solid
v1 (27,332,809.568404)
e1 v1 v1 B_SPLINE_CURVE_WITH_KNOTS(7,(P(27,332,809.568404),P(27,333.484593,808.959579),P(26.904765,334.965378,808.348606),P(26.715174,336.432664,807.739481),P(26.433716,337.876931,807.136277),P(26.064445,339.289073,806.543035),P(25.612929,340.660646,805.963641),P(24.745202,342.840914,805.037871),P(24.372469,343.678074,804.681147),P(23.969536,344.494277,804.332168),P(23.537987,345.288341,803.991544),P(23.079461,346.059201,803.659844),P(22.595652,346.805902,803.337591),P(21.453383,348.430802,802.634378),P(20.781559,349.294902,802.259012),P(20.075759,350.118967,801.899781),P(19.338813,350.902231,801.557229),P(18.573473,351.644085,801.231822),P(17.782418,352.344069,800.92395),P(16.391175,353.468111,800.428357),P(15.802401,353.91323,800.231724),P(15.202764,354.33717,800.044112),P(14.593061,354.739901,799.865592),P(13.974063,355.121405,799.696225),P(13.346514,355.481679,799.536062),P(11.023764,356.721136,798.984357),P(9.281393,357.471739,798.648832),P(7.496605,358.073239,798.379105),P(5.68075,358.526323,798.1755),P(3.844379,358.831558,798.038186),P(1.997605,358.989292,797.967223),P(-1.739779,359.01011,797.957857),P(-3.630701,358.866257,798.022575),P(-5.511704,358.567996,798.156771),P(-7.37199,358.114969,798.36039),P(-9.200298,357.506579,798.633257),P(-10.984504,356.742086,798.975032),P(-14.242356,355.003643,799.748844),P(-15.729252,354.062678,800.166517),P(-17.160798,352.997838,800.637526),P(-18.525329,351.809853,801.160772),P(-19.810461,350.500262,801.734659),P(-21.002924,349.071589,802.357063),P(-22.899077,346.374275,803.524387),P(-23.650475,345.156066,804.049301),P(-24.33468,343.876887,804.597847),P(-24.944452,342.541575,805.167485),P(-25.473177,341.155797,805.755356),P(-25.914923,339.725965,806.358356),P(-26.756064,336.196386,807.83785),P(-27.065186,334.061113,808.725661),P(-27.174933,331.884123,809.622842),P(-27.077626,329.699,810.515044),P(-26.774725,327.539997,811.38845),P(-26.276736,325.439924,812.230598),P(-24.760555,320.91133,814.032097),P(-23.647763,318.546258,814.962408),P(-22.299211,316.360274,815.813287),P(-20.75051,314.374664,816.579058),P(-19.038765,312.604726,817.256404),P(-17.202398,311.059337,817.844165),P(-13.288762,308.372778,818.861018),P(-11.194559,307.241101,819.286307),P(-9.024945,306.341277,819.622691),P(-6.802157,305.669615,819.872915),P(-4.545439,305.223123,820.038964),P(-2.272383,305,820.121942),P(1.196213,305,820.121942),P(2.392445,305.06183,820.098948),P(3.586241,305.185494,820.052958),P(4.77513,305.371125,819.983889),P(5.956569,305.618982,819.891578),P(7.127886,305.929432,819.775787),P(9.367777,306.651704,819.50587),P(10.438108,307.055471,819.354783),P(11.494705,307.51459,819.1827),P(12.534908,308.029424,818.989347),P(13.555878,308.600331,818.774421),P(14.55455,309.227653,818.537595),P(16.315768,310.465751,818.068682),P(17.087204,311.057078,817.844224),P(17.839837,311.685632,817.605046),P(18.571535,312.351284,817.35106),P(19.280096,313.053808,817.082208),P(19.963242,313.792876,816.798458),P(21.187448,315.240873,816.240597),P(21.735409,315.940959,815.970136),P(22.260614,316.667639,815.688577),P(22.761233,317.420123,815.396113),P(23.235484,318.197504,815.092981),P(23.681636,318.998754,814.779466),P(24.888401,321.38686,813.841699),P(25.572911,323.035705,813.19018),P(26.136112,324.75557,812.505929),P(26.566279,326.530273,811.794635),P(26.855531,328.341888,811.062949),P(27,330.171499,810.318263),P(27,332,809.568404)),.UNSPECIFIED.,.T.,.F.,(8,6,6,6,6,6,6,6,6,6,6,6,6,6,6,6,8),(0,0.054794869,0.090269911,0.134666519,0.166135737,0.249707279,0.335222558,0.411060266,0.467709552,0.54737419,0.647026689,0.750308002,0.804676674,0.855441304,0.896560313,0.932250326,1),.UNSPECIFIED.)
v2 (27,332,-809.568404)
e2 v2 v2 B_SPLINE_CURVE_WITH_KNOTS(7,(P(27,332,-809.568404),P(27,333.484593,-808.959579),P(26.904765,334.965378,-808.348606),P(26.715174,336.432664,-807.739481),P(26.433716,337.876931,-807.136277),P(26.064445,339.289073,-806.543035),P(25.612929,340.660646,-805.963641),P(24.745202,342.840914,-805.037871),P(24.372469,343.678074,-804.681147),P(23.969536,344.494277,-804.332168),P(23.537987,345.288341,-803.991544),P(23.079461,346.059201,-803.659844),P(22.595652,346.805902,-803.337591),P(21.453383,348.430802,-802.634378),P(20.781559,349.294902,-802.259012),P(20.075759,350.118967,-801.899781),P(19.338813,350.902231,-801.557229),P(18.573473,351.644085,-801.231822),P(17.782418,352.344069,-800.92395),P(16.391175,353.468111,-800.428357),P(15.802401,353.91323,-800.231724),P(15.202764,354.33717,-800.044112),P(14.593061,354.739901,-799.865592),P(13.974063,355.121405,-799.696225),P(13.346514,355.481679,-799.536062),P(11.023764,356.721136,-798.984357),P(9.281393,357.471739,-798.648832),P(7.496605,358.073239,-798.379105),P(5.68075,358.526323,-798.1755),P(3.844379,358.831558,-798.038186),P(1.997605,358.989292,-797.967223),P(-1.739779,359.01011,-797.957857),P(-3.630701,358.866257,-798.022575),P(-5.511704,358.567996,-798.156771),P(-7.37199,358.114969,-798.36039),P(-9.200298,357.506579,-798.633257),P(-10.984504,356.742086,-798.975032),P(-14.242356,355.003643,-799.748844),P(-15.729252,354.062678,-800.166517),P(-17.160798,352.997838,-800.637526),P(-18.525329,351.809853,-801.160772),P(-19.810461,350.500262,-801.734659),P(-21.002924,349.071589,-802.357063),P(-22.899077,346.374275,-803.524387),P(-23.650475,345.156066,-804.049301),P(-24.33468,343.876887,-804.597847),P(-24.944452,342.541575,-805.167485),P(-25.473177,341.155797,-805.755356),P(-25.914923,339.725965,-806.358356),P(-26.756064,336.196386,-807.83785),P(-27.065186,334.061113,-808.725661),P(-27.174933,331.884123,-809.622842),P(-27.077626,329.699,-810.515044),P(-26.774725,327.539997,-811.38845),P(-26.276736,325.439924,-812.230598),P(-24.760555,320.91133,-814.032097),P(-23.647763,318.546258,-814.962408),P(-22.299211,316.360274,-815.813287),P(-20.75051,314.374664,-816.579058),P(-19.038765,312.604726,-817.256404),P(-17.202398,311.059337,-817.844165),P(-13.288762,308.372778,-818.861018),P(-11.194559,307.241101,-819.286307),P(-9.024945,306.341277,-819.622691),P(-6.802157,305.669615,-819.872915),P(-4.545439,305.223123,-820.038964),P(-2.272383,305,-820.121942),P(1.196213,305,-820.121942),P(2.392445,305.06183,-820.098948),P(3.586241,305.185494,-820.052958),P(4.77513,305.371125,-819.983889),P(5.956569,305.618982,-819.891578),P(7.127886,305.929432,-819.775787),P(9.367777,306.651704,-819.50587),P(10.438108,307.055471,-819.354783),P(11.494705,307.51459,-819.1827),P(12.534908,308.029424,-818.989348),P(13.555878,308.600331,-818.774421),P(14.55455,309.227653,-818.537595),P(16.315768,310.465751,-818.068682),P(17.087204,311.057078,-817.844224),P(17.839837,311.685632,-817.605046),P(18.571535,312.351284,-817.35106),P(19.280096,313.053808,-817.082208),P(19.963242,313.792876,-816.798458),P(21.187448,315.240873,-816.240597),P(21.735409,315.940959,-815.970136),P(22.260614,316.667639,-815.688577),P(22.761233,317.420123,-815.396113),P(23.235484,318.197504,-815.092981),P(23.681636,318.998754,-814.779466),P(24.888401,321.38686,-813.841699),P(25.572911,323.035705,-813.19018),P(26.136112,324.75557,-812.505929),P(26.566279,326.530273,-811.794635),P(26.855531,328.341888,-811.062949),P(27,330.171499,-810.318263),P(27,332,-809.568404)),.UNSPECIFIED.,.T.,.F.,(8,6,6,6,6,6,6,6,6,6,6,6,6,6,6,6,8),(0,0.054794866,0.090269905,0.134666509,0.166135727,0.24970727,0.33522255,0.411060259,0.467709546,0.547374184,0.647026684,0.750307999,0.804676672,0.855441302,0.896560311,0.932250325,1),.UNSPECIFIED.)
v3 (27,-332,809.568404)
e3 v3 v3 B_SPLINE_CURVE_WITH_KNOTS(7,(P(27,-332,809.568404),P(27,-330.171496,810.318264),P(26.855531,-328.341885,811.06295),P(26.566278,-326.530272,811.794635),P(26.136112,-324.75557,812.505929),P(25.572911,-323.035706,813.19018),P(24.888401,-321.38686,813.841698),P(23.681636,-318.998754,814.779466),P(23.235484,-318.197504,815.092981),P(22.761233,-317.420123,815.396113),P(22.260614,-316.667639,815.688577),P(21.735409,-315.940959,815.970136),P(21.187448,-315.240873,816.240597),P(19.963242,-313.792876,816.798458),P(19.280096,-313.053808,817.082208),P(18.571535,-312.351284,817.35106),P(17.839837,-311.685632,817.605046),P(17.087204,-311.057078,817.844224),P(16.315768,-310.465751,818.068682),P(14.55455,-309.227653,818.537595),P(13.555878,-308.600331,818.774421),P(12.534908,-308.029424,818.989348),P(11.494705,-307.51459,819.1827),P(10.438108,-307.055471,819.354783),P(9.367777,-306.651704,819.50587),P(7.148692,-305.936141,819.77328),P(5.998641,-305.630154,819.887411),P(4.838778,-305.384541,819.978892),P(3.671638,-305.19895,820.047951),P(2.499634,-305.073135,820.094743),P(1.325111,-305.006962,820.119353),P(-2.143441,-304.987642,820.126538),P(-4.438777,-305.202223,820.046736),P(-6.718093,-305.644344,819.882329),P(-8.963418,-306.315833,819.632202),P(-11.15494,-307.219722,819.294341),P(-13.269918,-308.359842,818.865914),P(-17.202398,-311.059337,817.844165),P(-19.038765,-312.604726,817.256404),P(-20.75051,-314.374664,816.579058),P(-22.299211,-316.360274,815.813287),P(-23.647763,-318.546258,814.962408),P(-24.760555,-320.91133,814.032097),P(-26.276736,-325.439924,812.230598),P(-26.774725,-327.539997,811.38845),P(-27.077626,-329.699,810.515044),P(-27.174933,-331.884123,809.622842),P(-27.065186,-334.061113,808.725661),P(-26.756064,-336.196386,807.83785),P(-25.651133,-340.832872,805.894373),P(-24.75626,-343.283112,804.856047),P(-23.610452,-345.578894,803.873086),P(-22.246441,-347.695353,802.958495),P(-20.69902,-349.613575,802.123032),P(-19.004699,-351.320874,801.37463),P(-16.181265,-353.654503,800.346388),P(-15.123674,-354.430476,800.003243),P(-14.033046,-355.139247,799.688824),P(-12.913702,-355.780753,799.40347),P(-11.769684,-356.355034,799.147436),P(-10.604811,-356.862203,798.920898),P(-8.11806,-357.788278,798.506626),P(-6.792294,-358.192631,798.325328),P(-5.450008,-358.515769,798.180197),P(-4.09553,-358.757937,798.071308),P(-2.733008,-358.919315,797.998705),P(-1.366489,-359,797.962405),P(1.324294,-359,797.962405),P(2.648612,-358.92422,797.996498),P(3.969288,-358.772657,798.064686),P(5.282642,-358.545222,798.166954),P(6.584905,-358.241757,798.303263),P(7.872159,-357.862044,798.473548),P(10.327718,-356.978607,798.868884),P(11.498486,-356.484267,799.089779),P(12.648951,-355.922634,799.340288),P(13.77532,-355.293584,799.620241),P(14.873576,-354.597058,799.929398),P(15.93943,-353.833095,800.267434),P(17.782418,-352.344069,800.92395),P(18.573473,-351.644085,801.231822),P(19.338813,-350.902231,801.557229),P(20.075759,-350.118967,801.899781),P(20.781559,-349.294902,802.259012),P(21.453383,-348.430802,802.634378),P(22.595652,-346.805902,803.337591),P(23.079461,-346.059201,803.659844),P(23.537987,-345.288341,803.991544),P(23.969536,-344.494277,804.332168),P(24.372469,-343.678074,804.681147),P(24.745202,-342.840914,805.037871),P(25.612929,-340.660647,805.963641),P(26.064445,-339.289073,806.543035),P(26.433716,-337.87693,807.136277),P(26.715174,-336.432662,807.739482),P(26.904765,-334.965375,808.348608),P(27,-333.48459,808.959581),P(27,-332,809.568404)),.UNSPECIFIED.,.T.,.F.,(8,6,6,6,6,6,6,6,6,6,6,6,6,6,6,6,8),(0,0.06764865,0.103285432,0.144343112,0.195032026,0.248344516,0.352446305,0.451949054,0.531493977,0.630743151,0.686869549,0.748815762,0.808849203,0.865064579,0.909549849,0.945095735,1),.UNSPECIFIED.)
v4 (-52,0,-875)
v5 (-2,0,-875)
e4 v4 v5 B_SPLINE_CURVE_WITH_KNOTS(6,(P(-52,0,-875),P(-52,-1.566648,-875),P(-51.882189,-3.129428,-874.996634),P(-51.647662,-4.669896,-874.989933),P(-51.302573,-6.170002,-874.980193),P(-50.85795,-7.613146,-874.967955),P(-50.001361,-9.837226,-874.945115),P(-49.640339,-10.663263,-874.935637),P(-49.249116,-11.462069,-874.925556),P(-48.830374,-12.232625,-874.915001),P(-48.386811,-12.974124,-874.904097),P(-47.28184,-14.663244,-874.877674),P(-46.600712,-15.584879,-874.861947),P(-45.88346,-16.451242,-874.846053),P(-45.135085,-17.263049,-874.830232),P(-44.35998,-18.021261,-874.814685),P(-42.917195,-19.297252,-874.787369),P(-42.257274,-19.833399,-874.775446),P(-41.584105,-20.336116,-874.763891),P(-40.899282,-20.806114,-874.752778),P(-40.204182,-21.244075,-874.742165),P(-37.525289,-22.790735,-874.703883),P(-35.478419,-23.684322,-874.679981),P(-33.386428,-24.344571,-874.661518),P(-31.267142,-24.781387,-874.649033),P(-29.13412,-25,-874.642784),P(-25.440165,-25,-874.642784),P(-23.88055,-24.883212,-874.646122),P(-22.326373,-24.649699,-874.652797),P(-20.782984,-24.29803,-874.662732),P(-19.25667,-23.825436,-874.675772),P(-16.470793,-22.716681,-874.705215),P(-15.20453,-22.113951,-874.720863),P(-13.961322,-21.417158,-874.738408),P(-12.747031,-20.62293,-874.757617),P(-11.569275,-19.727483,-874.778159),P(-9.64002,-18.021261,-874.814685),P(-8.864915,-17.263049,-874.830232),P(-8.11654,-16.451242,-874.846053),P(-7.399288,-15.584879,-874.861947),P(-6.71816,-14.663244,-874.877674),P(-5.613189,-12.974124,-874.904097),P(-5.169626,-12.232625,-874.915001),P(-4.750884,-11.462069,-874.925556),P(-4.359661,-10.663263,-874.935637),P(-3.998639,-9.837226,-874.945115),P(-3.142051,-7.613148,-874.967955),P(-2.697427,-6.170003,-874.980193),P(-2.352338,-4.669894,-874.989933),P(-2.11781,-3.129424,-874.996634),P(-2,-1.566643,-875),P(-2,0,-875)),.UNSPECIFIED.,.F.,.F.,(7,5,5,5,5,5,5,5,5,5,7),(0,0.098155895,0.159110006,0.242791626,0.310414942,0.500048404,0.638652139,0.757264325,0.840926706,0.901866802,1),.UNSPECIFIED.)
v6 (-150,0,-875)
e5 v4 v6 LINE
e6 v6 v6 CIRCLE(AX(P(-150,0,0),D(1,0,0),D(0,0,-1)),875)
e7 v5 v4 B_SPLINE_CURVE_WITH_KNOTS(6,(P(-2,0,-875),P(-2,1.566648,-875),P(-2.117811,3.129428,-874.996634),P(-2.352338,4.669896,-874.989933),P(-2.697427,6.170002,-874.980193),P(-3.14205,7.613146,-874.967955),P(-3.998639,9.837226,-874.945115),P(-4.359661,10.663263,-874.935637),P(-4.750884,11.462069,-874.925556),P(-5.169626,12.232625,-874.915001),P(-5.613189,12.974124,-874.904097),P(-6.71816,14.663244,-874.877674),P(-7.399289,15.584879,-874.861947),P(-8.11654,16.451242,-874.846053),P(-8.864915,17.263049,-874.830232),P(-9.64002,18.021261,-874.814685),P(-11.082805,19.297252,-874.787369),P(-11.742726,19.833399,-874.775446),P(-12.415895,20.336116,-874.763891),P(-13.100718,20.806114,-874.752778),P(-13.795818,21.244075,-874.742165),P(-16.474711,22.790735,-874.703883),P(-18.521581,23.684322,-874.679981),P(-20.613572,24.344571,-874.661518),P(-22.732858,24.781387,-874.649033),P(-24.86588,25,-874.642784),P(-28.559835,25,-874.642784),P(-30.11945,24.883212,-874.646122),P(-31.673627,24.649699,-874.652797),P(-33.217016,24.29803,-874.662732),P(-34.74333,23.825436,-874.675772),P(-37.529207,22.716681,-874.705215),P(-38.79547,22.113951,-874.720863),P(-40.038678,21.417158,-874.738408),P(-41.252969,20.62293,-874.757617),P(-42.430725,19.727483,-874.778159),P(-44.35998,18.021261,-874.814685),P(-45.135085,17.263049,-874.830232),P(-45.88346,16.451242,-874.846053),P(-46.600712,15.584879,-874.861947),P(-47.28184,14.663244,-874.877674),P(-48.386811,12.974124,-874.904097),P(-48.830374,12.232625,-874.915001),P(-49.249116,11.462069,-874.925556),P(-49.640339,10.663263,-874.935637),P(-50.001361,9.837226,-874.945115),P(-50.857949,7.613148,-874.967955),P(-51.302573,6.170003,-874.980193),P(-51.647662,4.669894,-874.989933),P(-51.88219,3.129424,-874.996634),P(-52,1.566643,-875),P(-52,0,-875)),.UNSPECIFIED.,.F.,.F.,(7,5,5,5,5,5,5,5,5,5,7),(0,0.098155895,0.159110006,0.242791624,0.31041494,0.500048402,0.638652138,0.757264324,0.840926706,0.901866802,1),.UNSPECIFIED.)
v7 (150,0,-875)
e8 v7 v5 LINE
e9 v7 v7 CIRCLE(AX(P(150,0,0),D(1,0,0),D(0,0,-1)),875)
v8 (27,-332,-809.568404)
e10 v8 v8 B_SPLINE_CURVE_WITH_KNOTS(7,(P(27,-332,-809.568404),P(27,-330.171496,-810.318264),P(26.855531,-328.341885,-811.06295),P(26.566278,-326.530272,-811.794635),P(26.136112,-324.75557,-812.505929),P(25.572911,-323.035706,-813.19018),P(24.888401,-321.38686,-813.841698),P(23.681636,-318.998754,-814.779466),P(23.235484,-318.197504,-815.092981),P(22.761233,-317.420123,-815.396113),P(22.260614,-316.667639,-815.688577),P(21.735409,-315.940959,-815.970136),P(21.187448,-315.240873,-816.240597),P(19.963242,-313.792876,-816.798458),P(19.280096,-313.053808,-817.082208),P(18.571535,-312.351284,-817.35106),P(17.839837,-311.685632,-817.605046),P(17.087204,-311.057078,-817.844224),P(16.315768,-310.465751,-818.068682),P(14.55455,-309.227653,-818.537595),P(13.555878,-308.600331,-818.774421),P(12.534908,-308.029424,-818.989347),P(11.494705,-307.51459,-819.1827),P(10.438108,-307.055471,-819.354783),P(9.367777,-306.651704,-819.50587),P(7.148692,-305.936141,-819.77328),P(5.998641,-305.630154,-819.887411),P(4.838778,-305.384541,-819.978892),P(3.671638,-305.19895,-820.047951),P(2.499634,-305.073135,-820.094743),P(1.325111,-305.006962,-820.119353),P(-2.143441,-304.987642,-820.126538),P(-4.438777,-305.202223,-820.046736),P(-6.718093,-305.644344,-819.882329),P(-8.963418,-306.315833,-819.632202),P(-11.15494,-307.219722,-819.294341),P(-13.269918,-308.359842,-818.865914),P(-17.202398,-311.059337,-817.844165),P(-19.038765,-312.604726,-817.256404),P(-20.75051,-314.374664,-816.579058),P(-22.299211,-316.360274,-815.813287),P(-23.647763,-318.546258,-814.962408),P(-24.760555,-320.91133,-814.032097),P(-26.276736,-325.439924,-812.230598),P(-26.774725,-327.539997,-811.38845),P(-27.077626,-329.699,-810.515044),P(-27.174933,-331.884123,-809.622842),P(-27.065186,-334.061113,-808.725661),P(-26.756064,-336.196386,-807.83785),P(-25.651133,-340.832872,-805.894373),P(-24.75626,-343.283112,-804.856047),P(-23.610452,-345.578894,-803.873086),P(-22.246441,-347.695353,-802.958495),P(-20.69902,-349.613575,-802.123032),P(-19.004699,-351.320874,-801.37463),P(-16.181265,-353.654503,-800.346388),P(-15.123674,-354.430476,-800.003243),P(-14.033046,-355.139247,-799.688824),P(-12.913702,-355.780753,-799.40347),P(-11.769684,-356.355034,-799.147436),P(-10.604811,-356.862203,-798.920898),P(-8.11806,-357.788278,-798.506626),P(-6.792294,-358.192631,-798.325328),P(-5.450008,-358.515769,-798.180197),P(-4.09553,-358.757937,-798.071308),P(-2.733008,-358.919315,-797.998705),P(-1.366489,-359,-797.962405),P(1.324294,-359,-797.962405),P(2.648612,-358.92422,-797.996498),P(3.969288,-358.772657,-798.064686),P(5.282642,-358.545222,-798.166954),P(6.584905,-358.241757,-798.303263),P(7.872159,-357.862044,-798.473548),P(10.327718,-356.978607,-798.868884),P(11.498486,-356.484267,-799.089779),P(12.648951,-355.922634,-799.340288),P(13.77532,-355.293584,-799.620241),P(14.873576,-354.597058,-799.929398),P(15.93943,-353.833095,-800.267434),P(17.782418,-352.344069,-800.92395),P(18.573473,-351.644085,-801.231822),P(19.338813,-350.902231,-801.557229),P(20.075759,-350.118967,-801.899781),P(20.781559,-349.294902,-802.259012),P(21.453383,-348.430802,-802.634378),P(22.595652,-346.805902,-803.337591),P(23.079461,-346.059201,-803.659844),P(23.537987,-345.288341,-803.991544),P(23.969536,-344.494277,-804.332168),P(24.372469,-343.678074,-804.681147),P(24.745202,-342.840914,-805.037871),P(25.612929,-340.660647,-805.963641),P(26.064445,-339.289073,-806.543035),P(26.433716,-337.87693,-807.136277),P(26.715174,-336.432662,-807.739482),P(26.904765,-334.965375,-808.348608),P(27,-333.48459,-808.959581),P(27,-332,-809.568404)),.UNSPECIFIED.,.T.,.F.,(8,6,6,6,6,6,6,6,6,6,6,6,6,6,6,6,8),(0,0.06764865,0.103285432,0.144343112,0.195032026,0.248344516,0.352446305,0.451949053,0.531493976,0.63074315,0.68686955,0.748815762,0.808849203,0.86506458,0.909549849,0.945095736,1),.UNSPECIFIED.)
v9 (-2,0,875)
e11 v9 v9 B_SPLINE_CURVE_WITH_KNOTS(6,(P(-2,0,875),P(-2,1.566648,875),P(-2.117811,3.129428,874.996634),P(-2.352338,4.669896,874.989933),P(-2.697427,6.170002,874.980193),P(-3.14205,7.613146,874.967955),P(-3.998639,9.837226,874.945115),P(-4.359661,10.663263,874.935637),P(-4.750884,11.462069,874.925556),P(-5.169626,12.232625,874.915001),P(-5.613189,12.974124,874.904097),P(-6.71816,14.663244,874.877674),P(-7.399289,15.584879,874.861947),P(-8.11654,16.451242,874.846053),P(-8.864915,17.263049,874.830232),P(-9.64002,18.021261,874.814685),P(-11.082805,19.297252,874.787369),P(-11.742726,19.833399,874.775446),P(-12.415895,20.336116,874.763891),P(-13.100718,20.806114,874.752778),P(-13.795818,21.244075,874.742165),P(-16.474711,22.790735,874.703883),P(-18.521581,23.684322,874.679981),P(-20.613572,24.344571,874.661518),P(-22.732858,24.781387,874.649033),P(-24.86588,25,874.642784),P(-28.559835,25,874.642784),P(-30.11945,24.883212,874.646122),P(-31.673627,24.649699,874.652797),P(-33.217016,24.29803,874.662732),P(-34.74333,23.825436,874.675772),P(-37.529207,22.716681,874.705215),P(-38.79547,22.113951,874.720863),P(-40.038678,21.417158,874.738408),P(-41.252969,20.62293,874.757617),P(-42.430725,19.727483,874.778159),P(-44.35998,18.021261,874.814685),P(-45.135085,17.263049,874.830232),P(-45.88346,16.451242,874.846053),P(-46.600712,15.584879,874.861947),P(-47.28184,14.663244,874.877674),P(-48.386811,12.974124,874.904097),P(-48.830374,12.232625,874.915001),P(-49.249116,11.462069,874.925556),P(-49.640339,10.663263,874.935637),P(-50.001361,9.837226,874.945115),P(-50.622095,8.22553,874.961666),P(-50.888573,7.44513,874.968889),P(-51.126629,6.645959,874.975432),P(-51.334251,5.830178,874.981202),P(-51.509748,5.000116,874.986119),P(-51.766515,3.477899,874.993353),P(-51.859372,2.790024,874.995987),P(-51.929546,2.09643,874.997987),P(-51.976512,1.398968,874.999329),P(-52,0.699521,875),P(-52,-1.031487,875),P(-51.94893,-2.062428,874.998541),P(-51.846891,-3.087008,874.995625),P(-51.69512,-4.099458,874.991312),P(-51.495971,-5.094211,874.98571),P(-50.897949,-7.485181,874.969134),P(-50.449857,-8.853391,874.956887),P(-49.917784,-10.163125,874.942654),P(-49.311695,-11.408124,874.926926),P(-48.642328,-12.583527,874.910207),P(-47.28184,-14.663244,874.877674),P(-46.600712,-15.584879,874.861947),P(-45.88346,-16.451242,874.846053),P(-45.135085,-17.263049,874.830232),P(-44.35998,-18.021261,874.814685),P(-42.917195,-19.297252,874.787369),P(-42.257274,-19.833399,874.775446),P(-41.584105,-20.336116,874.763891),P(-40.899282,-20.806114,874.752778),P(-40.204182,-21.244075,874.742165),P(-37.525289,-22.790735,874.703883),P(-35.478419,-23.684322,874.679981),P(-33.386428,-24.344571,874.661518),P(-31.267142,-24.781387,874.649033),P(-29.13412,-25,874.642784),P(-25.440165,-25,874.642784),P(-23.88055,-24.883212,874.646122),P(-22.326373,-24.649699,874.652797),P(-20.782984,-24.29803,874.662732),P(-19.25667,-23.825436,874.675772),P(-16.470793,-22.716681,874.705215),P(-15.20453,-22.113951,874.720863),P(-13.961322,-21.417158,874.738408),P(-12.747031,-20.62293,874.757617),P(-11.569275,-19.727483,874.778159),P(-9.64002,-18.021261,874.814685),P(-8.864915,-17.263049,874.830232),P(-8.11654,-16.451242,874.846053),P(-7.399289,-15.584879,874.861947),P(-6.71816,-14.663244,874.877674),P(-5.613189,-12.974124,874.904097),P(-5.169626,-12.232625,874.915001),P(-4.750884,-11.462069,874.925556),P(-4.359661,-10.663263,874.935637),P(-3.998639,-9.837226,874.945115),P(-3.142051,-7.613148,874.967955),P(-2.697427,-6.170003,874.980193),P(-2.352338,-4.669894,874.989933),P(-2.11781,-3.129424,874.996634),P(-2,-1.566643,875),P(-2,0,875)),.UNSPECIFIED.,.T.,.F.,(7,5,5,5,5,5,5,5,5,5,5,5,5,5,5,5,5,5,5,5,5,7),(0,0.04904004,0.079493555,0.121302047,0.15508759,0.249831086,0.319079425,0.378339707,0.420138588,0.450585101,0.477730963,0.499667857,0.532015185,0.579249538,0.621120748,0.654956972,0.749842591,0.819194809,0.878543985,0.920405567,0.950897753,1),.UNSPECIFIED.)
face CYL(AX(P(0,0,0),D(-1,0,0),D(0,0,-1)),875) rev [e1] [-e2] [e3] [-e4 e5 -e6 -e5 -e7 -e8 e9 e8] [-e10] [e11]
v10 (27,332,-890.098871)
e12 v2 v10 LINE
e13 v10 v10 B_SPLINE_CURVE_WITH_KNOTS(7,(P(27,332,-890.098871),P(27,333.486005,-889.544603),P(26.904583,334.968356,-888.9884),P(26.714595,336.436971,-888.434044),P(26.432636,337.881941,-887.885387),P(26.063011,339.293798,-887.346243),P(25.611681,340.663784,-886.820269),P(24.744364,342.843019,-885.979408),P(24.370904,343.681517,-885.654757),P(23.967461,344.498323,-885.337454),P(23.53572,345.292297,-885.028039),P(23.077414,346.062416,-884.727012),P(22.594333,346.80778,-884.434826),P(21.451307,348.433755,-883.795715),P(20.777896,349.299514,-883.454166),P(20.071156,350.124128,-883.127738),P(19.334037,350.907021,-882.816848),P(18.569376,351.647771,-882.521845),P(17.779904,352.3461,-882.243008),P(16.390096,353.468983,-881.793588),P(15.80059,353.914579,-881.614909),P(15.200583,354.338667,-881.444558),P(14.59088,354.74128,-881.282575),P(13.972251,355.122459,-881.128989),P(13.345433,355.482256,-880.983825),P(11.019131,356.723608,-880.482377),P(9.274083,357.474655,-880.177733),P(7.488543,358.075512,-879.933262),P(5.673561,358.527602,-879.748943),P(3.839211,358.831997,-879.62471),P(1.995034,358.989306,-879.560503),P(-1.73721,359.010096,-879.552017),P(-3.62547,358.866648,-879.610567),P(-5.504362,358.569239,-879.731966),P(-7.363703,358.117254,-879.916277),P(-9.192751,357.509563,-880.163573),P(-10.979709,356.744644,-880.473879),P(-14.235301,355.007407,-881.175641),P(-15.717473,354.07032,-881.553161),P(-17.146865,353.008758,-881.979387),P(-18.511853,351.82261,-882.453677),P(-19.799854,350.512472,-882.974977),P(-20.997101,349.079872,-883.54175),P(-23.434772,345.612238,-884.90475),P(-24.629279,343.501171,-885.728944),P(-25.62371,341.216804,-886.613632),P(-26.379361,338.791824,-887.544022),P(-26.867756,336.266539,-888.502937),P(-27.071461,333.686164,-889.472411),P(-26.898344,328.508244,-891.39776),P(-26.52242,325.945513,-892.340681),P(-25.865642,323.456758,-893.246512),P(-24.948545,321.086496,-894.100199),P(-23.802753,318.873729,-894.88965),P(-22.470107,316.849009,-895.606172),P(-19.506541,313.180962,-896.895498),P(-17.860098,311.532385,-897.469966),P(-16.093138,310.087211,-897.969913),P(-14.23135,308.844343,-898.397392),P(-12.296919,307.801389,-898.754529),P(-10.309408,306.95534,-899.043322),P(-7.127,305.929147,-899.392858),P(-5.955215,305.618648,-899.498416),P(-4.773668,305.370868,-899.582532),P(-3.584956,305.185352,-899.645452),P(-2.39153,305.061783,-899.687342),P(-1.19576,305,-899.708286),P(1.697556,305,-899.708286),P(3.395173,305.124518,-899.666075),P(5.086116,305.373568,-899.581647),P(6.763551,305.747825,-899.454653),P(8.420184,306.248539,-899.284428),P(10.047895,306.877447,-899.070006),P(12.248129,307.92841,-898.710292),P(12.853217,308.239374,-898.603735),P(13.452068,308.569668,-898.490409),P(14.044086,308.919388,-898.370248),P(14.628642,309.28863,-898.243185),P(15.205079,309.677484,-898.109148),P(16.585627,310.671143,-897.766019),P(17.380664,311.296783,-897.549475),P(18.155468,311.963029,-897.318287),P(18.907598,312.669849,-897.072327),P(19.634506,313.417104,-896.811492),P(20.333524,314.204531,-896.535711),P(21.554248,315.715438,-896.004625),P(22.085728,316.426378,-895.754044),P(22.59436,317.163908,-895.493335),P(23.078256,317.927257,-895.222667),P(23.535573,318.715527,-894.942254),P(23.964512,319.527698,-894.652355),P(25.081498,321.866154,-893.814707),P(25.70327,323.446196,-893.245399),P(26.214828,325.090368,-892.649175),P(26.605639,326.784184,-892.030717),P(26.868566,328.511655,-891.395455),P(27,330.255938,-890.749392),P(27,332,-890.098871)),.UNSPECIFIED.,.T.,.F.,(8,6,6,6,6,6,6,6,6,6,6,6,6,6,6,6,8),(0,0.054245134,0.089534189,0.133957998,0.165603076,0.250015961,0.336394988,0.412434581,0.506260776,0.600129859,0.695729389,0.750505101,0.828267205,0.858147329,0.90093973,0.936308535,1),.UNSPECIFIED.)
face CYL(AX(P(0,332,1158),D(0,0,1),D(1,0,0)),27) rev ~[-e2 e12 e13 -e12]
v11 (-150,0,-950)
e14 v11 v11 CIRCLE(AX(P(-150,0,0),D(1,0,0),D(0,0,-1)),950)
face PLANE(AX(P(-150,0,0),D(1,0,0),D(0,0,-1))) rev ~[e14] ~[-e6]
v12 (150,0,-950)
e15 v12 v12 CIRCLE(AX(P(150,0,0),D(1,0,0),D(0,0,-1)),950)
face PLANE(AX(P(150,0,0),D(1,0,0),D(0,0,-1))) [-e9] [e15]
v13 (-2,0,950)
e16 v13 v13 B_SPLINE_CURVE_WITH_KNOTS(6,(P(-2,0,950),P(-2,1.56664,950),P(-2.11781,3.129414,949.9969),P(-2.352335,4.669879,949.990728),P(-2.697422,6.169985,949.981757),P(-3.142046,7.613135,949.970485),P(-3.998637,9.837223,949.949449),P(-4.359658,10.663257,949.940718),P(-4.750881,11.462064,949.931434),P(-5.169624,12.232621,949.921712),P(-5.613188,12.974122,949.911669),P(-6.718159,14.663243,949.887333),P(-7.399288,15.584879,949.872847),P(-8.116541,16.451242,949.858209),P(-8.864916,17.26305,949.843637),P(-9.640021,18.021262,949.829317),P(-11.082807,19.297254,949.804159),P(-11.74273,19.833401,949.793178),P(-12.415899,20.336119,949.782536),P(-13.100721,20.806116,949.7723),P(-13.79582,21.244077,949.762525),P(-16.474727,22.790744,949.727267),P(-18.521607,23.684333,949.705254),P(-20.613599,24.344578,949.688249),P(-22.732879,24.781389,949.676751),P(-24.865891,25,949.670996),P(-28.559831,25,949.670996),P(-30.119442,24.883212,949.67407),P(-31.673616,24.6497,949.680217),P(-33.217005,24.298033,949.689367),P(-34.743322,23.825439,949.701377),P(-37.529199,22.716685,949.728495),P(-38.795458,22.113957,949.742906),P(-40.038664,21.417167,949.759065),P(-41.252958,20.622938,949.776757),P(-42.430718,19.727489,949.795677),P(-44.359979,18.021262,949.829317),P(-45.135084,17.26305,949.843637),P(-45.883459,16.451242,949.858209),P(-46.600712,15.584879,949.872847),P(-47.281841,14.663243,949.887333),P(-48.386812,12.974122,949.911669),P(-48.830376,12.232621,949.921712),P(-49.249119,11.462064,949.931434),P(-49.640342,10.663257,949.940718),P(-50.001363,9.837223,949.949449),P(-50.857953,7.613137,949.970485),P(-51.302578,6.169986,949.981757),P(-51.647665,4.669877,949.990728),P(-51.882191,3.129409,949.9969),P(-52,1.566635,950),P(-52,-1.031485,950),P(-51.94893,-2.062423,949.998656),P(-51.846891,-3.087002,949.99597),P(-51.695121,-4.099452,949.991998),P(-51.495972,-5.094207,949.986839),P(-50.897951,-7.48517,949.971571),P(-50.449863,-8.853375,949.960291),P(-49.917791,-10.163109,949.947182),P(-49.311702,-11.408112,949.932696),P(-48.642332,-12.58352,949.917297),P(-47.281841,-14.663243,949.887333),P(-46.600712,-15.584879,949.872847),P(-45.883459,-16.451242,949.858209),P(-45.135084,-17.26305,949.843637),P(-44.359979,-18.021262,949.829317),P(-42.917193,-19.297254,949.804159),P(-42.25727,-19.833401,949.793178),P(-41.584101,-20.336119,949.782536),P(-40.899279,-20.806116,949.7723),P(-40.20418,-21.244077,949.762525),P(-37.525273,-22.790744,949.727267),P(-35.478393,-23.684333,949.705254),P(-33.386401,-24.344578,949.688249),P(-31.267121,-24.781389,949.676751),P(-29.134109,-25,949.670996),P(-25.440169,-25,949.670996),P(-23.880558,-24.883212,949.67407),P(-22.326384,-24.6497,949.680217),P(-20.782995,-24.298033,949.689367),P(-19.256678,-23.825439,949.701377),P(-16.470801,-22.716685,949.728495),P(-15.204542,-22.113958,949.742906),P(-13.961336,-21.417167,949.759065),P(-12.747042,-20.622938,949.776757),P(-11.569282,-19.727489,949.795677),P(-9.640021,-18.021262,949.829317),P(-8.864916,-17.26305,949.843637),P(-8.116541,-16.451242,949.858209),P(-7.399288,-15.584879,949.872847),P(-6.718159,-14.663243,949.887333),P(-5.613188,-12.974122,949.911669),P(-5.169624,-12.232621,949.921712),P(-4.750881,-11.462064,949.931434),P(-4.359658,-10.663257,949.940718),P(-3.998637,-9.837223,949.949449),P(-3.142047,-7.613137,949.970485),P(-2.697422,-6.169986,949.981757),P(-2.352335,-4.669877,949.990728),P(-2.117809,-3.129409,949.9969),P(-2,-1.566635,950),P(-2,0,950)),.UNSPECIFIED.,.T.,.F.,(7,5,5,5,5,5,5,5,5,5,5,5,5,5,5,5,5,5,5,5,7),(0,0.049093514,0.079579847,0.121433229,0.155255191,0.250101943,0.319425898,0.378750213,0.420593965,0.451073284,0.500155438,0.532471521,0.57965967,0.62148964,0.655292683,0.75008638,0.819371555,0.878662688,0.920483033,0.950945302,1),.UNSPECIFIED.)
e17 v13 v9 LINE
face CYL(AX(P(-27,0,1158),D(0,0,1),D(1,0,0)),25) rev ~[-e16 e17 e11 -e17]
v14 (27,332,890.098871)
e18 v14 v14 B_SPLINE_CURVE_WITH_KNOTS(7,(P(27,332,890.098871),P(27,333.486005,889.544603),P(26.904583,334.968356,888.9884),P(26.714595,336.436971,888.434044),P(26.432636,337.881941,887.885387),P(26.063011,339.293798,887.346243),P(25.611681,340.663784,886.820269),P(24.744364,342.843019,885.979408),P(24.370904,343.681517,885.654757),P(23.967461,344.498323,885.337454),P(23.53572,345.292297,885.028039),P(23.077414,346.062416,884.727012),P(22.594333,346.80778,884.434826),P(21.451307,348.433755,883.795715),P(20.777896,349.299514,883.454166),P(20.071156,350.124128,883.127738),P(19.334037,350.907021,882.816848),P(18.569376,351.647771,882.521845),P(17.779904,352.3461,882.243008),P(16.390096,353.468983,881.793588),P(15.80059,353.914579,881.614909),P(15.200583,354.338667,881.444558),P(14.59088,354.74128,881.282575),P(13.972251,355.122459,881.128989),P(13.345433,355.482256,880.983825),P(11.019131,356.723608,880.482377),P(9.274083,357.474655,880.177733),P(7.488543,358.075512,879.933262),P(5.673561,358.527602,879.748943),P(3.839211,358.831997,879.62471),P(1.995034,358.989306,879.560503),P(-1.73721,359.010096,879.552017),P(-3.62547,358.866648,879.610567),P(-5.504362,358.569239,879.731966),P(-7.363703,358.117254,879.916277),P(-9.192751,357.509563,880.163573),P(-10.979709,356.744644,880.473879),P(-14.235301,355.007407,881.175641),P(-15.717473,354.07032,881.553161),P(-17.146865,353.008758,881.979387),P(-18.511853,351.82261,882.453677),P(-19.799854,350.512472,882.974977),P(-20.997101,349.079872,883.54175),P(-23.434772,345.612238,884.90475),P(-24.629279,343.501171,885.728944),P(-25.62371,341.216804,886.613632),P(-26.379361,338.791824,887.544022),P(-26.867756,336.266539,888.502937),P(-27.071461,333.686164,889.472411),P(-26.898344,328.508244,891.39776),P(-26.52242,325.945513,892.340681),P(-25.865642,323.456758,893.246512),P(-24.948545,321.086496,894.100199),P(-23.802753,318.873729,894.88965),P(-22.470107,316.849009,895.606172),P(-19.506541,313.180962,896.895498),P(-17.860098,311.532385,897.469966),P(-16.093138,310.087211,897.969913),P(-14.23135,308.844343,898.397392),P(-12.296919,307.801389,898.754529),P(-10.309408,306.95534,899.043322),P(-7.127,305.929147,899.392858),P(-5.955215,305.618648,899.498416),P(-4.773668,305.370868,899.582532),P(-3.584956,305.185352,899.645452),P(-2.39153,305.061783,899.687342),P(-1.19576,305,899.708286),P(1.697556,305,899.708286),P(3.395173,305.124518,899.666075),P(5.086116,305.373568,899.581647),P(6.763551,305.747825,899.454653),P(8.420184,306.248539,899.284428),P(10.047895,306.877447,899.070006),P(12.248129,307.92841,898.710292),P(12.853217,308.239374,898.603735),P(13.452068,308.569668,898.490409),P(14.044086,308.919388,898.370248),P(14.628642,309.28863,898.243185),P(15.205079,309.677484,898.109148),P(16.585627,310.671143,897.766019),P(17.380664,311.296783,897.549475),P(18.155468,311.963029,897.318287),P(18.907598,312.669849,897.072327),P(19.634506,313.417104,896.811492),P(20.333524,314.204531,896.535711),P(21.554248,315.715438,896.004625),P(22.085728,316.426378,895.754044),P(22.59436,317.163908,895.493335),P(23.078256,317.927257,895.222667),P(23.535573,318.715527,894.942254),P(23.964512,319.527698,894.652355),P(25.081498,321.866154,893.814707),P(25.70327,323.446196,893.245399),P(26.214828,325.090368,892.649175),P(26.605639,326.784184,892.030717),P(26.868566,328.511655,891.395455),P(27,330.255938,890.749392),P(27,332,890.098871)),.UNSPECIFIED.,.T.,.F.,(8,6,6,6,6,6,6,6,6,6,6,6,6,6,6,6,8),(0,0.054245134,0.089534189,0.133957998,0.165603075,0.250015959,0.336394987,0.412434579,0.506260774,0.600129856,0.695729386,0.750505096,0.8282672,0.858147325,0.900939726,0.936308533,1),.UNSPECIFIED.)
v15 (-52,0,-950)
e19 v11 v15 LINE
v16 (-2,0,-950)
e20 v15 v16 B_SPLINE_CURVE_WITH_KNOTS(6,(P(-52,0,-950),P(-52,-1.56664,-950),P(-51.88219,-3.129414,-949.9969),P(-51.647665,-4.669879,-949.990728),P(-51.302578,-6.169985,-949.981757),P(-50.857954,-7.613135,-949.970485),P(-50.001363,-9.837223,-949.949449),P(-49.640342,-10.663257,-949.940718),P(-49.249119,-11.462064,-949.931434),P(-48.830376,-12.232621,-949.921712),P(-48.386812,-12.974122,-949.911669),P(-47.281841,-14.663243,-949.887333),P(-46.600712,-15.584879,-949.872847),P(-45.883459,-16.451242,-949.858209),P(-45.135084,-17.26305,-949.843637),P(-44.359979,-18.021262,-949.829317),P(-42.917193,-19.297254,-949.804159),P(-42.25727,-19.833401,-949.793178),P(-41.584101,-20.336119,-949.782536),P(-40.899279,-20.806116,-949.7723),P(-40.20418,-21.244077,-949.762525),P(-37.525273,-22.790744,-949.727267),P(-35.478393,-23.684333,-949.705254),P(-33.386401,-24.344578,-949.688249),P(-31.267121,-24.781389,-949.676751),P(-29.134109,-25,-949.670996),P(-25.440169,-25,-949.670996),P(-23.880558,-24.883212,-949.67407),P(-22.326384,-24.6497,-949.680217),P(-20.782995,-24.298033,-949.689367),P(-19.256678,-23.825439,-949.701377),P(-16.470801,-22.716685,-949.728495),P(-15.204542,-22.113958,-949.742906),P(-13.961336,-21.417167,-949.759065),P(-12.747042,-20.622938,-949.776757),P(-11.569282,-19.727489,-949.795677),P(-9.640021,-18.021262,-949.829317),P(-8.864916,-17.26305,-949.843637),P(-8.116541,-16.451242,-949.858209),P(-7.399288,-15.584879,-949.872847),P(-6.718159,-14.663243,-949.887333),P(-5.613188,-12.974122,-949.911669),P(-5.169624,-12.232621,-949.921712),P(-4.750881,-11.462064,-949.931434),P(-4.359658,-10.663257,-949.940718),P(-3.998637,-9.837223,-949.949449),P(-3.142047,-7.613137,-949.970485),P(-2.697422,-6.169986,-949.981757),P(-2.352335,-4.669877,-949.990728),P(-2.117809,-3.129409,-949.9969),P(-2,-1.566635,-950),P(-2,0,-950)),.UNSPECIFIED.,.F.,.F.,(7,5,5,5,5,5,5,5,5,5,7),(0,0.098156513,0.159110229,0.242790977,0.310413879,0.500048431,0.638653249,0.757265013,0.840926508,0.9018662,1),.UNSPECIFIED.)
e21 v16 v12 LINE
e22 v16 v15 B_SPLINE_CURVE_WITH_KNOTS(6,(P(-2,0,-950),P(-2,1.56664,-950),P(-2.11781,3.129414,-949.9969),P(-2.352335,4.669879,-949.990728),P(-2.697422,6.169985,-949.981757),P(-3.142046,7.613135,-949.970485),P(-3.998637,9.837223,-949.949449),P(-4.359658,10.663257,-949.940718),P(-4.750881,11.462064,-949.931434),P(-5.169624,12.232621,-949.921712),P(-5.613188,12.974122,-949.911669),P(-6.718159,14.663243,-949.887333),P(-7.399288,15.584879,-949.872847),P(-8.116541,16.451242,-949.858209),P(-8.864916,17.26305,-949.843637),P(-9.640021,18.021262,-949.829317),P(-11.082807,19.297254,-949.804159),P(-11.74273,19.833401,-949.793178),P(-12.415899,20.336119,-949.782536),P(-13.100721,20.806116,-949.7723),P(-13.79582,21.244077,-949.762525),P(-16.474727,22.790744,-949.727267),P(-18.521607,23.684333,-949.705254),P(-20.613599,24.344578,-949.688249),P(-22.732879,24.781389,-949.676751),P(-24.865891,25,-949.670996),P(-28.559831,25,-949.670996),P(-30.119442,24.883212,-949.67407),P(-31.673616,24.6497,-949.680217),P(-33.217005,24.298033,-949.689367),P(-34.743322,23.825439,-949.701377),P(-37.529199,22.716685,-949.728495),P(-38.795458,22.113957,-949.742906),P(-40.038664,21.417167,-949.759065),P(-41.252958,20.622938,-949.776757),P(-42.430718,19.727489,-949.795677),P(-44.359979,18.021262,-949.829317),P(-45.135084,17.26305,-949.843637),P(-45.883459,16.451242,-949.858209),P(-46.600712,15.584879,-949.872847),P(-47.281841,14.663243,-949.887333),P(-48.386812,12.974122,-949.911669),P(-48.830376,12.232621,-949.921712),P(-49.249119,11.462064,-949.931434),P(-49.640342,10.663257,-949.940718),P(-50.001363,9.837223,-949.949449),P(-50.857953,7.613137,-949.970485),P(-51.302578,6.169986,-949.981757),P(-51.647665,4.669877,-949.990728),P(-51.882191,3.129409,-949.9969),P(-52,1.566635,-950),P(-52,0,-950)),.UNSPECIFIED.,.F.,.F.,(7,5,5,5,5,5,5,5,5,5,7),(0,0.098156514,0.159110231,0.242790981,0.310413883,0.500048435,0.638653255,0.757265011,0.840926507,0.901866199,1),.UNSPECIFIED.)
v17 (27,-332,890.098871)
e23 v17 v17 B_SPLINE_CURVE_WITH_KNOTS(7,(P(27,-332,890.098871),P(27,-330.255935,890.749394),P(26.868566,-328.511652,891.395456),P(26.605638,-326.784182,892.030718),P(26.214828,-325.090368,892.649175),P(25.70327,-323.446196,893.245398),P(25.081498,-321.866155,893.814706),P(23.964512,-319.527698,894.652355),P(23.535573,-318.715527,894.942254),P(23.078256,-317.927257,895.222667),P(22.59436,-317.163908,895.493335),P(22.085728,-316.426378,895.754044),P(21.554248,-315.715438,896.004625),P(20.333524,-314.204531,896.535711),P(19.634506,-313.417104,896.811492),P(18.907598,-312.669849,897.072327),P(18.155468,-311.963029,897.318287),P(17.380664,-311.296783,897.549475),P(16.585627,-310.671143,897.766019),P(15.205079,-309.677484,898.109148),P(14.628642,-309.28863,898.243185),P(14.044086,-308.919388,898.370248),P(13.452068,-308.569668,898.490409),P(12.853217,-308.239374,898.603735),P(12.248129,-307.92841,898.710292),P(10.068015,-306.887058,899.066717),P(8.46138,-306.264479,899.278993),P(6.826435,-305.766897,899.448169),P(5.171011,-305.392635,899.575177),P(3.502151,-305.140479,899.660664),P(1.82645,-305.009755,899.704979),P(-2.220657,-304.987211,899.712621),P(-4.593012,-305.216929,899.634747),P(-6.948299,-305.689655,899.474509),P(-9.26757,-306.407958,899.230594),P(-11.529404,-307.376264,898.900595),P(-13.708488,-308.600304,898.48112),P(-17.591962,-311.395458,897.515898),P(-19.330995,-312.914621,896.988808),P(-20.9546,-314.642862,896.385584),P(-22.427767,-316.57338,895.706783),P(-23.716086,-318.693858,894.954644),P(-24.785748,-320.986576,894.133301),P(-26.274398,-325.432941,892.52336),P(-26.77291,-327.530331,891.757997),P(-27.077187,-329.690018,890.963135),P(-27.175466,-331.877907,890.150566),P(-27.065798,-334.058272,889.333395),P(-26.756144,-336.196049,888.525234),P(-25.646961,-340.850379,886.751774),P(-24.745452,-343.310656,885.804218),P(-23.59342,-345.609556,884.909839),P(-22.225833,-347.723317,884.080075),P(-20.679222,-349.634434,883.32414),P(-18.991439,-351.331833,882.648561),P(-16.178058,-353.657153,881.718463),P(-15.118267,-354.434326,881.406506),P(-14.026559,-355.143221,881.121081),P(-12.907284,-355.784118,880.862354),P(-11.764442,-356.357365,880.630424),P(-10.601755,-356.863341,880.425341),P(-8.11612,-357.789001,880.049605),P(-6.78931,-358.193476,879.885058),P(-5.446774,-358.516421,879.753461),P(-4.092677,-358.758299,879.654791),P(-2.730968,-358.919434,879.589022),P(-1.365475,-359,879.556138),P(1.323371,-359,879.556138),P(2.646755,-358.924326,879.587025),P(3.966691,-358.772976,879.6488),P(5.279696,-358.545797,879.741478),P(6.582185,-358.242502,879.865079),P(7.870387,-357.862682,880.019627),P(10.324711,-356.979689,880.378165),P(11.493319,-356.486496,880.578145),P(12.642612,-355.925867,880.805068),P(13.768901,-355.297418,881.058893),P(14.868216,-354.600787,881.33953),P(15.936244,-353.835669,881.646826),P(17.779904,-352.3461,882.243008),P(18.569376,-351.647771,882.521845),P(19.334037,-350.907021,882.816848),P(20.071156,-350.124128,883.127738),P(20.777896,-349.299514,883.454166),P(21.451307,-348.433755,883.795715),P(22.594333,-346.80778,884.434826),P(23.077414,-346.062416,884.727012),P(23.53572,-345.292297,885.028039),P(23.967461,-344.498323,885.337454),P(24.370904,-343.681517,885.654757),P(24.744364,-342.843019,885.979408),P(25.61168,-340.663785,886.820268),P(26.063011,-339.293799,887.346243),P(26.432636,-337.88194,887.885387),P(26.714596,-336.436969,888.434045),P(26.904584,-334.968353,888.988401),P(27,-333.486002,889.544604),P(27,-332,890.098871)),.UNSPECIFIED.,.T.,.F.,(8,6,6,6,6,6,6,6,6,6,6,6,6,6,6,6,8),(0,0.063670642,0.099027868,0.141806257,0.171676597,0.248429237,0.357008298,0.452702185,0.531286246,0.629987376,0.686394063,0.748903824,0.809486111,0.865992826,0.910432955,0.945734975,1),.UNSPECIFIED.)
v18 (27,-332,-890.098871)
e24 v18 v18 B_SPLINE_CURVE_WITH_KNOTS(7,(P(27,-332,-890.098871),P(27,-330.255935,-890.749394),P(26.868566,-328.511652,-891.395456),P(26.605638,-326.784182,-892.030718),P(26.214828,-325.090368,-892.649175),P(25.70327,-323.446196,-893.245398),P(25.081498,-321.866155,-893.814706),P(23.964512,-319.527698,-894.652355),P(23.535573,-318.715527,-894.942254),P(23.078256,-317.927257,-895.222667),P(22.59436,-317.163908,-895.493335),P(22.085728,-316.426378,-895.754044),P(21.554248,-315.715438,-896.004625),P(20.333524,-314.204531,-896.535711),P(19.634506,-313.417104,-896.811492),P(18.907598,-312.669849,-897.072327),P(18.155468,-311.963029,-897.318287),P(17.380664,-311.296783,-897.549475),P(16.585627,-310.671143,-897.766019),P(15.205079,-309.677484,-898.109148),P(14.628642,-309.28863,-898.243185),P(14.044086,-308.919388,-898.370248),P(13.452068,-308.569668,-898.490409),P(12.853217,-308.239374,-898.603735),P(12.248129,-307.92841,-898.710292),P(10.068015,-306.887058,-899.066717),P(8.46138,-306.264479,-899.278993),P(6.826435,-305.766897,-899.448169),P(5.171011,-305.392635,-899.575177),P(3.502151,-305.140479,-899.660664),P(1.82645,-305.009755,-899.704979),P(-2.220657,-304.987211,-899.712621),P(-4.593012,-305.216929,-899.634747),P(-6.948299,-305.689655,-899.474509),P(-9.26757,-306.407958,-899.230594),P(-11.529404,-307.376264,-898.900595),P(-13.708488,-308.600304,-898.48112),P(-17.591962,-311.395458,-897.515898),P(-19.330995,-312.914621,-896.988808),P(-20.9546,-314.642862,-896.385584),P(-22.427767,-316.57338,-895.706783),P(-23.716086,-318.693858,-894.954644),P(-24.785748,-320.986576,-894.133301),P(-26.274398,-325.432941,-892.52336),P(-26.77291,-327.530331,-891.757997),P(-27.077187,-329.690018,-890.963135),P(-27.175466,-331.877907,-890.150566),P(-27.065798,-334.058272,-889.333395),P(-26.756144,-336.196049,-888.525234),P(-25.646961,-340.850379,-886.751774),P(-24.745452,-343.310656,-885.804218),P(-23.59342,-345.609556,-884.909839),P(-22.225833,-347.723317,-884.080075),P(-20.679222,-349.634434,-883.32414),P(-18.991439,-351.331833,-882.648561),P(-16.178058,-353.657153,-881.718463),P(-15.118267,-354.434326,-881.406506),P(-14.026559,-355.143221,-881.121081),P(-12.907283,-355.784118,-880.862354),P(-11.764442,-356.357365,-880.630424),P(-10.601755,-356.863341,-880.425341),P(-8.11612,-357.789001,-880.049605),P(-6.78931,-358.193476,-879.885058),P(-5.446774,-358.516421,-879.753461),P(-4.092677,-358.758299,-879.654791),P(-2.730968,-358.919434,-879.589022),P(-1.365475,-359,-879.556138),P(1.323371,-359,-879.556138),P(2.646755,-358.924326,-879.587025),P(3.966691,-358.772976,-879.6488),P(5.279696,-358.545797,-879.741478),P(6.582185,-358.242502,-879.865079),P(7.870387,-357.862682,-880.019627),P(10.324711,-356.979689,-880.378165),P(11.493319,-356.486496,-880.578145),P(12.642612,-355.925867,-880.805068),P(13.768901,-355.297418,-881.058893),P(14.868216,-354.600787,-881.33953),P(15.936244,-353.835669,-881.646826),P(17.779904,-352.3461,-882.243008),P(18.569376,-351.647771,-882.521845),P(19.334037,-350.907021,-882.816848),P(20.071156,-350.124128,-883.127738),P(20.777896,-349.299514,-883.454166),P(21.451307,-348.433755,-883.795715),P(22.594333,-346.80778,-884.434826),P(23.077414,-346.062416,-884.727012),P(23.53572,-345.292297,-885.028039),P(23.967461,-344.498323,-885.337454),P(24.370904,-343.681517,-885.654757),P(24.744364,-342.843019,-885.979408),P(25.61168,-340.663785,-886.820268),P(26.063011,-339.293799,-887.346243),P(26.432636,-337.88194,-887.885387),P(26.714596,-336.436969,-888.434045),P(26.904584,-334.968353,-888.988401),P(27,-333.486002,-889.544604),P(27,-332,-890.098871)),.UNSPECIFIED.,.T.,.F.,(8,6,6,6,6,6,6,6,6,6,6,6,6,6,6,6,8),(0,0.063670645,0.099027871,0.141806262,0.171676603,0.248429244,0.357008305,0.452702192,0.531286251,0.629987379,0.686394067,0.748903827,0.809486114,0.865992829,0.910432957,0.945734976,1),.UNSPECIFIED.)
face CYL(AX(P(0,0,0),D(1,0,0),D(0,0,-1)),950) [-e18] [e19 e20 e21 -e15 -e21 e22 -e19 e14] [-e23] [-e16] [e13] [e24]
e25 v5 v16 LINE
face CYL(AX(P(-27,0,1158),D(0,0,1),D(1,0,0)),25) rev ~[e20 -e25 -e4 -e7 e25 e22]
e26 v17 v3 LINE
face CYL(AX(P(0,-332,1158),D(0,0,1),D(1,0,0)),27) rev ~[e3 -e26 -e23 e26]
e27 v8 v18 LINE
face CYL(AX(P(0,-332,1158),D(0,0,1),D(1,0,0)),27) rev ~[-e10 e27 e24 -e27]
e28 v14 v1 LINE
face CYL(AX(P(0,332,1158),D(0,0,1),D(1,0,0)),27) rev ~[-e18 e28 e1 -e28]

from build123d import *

# Parameters (mm, degrees)
SKETCH1_R           = 950
SKETCH1_R_2         = 875
BOSS_EXTRUDE1_DEPTH = 150
SKETCH2_R           = 25
SKETCH2_R_2         = 27
CUT_EXTRUDE1_DEPTH  = 2318.037764043


with BuildPart() as part:
    # Sketch1 → Boss-Extrude1 (new, symmetric)
    with BuildSketch(Plane(origin=(0, 0, 0), x_dir=(0, 0, -1), z_dir=(1, 0, 0))):
        Circle(SKETCH1_R)
        Circle(SKETCH1_R_2, mode=Mode.SUBTRACT)
    extrude(amount=BOSS_EXTRUDE1_DEPTH, both=True)

    # Sketch2 → Cut-Extrude1 (cut, through all)
    with BuildSketch(Plane.XY.offset(1158)):
        with Locations((-27, 0)):
            Circle(SKETCH2_R)
        with Locations((0, 332)):
            Circle(SKETCH2_R_2)
        with Locations((0, -332)):
            Circle(SKETCH2_R_2)
    extrude(amount=-CUT_EXTRUDE1_DEPTH, mode=Mode.SUBTRACT)


solid = part.part
